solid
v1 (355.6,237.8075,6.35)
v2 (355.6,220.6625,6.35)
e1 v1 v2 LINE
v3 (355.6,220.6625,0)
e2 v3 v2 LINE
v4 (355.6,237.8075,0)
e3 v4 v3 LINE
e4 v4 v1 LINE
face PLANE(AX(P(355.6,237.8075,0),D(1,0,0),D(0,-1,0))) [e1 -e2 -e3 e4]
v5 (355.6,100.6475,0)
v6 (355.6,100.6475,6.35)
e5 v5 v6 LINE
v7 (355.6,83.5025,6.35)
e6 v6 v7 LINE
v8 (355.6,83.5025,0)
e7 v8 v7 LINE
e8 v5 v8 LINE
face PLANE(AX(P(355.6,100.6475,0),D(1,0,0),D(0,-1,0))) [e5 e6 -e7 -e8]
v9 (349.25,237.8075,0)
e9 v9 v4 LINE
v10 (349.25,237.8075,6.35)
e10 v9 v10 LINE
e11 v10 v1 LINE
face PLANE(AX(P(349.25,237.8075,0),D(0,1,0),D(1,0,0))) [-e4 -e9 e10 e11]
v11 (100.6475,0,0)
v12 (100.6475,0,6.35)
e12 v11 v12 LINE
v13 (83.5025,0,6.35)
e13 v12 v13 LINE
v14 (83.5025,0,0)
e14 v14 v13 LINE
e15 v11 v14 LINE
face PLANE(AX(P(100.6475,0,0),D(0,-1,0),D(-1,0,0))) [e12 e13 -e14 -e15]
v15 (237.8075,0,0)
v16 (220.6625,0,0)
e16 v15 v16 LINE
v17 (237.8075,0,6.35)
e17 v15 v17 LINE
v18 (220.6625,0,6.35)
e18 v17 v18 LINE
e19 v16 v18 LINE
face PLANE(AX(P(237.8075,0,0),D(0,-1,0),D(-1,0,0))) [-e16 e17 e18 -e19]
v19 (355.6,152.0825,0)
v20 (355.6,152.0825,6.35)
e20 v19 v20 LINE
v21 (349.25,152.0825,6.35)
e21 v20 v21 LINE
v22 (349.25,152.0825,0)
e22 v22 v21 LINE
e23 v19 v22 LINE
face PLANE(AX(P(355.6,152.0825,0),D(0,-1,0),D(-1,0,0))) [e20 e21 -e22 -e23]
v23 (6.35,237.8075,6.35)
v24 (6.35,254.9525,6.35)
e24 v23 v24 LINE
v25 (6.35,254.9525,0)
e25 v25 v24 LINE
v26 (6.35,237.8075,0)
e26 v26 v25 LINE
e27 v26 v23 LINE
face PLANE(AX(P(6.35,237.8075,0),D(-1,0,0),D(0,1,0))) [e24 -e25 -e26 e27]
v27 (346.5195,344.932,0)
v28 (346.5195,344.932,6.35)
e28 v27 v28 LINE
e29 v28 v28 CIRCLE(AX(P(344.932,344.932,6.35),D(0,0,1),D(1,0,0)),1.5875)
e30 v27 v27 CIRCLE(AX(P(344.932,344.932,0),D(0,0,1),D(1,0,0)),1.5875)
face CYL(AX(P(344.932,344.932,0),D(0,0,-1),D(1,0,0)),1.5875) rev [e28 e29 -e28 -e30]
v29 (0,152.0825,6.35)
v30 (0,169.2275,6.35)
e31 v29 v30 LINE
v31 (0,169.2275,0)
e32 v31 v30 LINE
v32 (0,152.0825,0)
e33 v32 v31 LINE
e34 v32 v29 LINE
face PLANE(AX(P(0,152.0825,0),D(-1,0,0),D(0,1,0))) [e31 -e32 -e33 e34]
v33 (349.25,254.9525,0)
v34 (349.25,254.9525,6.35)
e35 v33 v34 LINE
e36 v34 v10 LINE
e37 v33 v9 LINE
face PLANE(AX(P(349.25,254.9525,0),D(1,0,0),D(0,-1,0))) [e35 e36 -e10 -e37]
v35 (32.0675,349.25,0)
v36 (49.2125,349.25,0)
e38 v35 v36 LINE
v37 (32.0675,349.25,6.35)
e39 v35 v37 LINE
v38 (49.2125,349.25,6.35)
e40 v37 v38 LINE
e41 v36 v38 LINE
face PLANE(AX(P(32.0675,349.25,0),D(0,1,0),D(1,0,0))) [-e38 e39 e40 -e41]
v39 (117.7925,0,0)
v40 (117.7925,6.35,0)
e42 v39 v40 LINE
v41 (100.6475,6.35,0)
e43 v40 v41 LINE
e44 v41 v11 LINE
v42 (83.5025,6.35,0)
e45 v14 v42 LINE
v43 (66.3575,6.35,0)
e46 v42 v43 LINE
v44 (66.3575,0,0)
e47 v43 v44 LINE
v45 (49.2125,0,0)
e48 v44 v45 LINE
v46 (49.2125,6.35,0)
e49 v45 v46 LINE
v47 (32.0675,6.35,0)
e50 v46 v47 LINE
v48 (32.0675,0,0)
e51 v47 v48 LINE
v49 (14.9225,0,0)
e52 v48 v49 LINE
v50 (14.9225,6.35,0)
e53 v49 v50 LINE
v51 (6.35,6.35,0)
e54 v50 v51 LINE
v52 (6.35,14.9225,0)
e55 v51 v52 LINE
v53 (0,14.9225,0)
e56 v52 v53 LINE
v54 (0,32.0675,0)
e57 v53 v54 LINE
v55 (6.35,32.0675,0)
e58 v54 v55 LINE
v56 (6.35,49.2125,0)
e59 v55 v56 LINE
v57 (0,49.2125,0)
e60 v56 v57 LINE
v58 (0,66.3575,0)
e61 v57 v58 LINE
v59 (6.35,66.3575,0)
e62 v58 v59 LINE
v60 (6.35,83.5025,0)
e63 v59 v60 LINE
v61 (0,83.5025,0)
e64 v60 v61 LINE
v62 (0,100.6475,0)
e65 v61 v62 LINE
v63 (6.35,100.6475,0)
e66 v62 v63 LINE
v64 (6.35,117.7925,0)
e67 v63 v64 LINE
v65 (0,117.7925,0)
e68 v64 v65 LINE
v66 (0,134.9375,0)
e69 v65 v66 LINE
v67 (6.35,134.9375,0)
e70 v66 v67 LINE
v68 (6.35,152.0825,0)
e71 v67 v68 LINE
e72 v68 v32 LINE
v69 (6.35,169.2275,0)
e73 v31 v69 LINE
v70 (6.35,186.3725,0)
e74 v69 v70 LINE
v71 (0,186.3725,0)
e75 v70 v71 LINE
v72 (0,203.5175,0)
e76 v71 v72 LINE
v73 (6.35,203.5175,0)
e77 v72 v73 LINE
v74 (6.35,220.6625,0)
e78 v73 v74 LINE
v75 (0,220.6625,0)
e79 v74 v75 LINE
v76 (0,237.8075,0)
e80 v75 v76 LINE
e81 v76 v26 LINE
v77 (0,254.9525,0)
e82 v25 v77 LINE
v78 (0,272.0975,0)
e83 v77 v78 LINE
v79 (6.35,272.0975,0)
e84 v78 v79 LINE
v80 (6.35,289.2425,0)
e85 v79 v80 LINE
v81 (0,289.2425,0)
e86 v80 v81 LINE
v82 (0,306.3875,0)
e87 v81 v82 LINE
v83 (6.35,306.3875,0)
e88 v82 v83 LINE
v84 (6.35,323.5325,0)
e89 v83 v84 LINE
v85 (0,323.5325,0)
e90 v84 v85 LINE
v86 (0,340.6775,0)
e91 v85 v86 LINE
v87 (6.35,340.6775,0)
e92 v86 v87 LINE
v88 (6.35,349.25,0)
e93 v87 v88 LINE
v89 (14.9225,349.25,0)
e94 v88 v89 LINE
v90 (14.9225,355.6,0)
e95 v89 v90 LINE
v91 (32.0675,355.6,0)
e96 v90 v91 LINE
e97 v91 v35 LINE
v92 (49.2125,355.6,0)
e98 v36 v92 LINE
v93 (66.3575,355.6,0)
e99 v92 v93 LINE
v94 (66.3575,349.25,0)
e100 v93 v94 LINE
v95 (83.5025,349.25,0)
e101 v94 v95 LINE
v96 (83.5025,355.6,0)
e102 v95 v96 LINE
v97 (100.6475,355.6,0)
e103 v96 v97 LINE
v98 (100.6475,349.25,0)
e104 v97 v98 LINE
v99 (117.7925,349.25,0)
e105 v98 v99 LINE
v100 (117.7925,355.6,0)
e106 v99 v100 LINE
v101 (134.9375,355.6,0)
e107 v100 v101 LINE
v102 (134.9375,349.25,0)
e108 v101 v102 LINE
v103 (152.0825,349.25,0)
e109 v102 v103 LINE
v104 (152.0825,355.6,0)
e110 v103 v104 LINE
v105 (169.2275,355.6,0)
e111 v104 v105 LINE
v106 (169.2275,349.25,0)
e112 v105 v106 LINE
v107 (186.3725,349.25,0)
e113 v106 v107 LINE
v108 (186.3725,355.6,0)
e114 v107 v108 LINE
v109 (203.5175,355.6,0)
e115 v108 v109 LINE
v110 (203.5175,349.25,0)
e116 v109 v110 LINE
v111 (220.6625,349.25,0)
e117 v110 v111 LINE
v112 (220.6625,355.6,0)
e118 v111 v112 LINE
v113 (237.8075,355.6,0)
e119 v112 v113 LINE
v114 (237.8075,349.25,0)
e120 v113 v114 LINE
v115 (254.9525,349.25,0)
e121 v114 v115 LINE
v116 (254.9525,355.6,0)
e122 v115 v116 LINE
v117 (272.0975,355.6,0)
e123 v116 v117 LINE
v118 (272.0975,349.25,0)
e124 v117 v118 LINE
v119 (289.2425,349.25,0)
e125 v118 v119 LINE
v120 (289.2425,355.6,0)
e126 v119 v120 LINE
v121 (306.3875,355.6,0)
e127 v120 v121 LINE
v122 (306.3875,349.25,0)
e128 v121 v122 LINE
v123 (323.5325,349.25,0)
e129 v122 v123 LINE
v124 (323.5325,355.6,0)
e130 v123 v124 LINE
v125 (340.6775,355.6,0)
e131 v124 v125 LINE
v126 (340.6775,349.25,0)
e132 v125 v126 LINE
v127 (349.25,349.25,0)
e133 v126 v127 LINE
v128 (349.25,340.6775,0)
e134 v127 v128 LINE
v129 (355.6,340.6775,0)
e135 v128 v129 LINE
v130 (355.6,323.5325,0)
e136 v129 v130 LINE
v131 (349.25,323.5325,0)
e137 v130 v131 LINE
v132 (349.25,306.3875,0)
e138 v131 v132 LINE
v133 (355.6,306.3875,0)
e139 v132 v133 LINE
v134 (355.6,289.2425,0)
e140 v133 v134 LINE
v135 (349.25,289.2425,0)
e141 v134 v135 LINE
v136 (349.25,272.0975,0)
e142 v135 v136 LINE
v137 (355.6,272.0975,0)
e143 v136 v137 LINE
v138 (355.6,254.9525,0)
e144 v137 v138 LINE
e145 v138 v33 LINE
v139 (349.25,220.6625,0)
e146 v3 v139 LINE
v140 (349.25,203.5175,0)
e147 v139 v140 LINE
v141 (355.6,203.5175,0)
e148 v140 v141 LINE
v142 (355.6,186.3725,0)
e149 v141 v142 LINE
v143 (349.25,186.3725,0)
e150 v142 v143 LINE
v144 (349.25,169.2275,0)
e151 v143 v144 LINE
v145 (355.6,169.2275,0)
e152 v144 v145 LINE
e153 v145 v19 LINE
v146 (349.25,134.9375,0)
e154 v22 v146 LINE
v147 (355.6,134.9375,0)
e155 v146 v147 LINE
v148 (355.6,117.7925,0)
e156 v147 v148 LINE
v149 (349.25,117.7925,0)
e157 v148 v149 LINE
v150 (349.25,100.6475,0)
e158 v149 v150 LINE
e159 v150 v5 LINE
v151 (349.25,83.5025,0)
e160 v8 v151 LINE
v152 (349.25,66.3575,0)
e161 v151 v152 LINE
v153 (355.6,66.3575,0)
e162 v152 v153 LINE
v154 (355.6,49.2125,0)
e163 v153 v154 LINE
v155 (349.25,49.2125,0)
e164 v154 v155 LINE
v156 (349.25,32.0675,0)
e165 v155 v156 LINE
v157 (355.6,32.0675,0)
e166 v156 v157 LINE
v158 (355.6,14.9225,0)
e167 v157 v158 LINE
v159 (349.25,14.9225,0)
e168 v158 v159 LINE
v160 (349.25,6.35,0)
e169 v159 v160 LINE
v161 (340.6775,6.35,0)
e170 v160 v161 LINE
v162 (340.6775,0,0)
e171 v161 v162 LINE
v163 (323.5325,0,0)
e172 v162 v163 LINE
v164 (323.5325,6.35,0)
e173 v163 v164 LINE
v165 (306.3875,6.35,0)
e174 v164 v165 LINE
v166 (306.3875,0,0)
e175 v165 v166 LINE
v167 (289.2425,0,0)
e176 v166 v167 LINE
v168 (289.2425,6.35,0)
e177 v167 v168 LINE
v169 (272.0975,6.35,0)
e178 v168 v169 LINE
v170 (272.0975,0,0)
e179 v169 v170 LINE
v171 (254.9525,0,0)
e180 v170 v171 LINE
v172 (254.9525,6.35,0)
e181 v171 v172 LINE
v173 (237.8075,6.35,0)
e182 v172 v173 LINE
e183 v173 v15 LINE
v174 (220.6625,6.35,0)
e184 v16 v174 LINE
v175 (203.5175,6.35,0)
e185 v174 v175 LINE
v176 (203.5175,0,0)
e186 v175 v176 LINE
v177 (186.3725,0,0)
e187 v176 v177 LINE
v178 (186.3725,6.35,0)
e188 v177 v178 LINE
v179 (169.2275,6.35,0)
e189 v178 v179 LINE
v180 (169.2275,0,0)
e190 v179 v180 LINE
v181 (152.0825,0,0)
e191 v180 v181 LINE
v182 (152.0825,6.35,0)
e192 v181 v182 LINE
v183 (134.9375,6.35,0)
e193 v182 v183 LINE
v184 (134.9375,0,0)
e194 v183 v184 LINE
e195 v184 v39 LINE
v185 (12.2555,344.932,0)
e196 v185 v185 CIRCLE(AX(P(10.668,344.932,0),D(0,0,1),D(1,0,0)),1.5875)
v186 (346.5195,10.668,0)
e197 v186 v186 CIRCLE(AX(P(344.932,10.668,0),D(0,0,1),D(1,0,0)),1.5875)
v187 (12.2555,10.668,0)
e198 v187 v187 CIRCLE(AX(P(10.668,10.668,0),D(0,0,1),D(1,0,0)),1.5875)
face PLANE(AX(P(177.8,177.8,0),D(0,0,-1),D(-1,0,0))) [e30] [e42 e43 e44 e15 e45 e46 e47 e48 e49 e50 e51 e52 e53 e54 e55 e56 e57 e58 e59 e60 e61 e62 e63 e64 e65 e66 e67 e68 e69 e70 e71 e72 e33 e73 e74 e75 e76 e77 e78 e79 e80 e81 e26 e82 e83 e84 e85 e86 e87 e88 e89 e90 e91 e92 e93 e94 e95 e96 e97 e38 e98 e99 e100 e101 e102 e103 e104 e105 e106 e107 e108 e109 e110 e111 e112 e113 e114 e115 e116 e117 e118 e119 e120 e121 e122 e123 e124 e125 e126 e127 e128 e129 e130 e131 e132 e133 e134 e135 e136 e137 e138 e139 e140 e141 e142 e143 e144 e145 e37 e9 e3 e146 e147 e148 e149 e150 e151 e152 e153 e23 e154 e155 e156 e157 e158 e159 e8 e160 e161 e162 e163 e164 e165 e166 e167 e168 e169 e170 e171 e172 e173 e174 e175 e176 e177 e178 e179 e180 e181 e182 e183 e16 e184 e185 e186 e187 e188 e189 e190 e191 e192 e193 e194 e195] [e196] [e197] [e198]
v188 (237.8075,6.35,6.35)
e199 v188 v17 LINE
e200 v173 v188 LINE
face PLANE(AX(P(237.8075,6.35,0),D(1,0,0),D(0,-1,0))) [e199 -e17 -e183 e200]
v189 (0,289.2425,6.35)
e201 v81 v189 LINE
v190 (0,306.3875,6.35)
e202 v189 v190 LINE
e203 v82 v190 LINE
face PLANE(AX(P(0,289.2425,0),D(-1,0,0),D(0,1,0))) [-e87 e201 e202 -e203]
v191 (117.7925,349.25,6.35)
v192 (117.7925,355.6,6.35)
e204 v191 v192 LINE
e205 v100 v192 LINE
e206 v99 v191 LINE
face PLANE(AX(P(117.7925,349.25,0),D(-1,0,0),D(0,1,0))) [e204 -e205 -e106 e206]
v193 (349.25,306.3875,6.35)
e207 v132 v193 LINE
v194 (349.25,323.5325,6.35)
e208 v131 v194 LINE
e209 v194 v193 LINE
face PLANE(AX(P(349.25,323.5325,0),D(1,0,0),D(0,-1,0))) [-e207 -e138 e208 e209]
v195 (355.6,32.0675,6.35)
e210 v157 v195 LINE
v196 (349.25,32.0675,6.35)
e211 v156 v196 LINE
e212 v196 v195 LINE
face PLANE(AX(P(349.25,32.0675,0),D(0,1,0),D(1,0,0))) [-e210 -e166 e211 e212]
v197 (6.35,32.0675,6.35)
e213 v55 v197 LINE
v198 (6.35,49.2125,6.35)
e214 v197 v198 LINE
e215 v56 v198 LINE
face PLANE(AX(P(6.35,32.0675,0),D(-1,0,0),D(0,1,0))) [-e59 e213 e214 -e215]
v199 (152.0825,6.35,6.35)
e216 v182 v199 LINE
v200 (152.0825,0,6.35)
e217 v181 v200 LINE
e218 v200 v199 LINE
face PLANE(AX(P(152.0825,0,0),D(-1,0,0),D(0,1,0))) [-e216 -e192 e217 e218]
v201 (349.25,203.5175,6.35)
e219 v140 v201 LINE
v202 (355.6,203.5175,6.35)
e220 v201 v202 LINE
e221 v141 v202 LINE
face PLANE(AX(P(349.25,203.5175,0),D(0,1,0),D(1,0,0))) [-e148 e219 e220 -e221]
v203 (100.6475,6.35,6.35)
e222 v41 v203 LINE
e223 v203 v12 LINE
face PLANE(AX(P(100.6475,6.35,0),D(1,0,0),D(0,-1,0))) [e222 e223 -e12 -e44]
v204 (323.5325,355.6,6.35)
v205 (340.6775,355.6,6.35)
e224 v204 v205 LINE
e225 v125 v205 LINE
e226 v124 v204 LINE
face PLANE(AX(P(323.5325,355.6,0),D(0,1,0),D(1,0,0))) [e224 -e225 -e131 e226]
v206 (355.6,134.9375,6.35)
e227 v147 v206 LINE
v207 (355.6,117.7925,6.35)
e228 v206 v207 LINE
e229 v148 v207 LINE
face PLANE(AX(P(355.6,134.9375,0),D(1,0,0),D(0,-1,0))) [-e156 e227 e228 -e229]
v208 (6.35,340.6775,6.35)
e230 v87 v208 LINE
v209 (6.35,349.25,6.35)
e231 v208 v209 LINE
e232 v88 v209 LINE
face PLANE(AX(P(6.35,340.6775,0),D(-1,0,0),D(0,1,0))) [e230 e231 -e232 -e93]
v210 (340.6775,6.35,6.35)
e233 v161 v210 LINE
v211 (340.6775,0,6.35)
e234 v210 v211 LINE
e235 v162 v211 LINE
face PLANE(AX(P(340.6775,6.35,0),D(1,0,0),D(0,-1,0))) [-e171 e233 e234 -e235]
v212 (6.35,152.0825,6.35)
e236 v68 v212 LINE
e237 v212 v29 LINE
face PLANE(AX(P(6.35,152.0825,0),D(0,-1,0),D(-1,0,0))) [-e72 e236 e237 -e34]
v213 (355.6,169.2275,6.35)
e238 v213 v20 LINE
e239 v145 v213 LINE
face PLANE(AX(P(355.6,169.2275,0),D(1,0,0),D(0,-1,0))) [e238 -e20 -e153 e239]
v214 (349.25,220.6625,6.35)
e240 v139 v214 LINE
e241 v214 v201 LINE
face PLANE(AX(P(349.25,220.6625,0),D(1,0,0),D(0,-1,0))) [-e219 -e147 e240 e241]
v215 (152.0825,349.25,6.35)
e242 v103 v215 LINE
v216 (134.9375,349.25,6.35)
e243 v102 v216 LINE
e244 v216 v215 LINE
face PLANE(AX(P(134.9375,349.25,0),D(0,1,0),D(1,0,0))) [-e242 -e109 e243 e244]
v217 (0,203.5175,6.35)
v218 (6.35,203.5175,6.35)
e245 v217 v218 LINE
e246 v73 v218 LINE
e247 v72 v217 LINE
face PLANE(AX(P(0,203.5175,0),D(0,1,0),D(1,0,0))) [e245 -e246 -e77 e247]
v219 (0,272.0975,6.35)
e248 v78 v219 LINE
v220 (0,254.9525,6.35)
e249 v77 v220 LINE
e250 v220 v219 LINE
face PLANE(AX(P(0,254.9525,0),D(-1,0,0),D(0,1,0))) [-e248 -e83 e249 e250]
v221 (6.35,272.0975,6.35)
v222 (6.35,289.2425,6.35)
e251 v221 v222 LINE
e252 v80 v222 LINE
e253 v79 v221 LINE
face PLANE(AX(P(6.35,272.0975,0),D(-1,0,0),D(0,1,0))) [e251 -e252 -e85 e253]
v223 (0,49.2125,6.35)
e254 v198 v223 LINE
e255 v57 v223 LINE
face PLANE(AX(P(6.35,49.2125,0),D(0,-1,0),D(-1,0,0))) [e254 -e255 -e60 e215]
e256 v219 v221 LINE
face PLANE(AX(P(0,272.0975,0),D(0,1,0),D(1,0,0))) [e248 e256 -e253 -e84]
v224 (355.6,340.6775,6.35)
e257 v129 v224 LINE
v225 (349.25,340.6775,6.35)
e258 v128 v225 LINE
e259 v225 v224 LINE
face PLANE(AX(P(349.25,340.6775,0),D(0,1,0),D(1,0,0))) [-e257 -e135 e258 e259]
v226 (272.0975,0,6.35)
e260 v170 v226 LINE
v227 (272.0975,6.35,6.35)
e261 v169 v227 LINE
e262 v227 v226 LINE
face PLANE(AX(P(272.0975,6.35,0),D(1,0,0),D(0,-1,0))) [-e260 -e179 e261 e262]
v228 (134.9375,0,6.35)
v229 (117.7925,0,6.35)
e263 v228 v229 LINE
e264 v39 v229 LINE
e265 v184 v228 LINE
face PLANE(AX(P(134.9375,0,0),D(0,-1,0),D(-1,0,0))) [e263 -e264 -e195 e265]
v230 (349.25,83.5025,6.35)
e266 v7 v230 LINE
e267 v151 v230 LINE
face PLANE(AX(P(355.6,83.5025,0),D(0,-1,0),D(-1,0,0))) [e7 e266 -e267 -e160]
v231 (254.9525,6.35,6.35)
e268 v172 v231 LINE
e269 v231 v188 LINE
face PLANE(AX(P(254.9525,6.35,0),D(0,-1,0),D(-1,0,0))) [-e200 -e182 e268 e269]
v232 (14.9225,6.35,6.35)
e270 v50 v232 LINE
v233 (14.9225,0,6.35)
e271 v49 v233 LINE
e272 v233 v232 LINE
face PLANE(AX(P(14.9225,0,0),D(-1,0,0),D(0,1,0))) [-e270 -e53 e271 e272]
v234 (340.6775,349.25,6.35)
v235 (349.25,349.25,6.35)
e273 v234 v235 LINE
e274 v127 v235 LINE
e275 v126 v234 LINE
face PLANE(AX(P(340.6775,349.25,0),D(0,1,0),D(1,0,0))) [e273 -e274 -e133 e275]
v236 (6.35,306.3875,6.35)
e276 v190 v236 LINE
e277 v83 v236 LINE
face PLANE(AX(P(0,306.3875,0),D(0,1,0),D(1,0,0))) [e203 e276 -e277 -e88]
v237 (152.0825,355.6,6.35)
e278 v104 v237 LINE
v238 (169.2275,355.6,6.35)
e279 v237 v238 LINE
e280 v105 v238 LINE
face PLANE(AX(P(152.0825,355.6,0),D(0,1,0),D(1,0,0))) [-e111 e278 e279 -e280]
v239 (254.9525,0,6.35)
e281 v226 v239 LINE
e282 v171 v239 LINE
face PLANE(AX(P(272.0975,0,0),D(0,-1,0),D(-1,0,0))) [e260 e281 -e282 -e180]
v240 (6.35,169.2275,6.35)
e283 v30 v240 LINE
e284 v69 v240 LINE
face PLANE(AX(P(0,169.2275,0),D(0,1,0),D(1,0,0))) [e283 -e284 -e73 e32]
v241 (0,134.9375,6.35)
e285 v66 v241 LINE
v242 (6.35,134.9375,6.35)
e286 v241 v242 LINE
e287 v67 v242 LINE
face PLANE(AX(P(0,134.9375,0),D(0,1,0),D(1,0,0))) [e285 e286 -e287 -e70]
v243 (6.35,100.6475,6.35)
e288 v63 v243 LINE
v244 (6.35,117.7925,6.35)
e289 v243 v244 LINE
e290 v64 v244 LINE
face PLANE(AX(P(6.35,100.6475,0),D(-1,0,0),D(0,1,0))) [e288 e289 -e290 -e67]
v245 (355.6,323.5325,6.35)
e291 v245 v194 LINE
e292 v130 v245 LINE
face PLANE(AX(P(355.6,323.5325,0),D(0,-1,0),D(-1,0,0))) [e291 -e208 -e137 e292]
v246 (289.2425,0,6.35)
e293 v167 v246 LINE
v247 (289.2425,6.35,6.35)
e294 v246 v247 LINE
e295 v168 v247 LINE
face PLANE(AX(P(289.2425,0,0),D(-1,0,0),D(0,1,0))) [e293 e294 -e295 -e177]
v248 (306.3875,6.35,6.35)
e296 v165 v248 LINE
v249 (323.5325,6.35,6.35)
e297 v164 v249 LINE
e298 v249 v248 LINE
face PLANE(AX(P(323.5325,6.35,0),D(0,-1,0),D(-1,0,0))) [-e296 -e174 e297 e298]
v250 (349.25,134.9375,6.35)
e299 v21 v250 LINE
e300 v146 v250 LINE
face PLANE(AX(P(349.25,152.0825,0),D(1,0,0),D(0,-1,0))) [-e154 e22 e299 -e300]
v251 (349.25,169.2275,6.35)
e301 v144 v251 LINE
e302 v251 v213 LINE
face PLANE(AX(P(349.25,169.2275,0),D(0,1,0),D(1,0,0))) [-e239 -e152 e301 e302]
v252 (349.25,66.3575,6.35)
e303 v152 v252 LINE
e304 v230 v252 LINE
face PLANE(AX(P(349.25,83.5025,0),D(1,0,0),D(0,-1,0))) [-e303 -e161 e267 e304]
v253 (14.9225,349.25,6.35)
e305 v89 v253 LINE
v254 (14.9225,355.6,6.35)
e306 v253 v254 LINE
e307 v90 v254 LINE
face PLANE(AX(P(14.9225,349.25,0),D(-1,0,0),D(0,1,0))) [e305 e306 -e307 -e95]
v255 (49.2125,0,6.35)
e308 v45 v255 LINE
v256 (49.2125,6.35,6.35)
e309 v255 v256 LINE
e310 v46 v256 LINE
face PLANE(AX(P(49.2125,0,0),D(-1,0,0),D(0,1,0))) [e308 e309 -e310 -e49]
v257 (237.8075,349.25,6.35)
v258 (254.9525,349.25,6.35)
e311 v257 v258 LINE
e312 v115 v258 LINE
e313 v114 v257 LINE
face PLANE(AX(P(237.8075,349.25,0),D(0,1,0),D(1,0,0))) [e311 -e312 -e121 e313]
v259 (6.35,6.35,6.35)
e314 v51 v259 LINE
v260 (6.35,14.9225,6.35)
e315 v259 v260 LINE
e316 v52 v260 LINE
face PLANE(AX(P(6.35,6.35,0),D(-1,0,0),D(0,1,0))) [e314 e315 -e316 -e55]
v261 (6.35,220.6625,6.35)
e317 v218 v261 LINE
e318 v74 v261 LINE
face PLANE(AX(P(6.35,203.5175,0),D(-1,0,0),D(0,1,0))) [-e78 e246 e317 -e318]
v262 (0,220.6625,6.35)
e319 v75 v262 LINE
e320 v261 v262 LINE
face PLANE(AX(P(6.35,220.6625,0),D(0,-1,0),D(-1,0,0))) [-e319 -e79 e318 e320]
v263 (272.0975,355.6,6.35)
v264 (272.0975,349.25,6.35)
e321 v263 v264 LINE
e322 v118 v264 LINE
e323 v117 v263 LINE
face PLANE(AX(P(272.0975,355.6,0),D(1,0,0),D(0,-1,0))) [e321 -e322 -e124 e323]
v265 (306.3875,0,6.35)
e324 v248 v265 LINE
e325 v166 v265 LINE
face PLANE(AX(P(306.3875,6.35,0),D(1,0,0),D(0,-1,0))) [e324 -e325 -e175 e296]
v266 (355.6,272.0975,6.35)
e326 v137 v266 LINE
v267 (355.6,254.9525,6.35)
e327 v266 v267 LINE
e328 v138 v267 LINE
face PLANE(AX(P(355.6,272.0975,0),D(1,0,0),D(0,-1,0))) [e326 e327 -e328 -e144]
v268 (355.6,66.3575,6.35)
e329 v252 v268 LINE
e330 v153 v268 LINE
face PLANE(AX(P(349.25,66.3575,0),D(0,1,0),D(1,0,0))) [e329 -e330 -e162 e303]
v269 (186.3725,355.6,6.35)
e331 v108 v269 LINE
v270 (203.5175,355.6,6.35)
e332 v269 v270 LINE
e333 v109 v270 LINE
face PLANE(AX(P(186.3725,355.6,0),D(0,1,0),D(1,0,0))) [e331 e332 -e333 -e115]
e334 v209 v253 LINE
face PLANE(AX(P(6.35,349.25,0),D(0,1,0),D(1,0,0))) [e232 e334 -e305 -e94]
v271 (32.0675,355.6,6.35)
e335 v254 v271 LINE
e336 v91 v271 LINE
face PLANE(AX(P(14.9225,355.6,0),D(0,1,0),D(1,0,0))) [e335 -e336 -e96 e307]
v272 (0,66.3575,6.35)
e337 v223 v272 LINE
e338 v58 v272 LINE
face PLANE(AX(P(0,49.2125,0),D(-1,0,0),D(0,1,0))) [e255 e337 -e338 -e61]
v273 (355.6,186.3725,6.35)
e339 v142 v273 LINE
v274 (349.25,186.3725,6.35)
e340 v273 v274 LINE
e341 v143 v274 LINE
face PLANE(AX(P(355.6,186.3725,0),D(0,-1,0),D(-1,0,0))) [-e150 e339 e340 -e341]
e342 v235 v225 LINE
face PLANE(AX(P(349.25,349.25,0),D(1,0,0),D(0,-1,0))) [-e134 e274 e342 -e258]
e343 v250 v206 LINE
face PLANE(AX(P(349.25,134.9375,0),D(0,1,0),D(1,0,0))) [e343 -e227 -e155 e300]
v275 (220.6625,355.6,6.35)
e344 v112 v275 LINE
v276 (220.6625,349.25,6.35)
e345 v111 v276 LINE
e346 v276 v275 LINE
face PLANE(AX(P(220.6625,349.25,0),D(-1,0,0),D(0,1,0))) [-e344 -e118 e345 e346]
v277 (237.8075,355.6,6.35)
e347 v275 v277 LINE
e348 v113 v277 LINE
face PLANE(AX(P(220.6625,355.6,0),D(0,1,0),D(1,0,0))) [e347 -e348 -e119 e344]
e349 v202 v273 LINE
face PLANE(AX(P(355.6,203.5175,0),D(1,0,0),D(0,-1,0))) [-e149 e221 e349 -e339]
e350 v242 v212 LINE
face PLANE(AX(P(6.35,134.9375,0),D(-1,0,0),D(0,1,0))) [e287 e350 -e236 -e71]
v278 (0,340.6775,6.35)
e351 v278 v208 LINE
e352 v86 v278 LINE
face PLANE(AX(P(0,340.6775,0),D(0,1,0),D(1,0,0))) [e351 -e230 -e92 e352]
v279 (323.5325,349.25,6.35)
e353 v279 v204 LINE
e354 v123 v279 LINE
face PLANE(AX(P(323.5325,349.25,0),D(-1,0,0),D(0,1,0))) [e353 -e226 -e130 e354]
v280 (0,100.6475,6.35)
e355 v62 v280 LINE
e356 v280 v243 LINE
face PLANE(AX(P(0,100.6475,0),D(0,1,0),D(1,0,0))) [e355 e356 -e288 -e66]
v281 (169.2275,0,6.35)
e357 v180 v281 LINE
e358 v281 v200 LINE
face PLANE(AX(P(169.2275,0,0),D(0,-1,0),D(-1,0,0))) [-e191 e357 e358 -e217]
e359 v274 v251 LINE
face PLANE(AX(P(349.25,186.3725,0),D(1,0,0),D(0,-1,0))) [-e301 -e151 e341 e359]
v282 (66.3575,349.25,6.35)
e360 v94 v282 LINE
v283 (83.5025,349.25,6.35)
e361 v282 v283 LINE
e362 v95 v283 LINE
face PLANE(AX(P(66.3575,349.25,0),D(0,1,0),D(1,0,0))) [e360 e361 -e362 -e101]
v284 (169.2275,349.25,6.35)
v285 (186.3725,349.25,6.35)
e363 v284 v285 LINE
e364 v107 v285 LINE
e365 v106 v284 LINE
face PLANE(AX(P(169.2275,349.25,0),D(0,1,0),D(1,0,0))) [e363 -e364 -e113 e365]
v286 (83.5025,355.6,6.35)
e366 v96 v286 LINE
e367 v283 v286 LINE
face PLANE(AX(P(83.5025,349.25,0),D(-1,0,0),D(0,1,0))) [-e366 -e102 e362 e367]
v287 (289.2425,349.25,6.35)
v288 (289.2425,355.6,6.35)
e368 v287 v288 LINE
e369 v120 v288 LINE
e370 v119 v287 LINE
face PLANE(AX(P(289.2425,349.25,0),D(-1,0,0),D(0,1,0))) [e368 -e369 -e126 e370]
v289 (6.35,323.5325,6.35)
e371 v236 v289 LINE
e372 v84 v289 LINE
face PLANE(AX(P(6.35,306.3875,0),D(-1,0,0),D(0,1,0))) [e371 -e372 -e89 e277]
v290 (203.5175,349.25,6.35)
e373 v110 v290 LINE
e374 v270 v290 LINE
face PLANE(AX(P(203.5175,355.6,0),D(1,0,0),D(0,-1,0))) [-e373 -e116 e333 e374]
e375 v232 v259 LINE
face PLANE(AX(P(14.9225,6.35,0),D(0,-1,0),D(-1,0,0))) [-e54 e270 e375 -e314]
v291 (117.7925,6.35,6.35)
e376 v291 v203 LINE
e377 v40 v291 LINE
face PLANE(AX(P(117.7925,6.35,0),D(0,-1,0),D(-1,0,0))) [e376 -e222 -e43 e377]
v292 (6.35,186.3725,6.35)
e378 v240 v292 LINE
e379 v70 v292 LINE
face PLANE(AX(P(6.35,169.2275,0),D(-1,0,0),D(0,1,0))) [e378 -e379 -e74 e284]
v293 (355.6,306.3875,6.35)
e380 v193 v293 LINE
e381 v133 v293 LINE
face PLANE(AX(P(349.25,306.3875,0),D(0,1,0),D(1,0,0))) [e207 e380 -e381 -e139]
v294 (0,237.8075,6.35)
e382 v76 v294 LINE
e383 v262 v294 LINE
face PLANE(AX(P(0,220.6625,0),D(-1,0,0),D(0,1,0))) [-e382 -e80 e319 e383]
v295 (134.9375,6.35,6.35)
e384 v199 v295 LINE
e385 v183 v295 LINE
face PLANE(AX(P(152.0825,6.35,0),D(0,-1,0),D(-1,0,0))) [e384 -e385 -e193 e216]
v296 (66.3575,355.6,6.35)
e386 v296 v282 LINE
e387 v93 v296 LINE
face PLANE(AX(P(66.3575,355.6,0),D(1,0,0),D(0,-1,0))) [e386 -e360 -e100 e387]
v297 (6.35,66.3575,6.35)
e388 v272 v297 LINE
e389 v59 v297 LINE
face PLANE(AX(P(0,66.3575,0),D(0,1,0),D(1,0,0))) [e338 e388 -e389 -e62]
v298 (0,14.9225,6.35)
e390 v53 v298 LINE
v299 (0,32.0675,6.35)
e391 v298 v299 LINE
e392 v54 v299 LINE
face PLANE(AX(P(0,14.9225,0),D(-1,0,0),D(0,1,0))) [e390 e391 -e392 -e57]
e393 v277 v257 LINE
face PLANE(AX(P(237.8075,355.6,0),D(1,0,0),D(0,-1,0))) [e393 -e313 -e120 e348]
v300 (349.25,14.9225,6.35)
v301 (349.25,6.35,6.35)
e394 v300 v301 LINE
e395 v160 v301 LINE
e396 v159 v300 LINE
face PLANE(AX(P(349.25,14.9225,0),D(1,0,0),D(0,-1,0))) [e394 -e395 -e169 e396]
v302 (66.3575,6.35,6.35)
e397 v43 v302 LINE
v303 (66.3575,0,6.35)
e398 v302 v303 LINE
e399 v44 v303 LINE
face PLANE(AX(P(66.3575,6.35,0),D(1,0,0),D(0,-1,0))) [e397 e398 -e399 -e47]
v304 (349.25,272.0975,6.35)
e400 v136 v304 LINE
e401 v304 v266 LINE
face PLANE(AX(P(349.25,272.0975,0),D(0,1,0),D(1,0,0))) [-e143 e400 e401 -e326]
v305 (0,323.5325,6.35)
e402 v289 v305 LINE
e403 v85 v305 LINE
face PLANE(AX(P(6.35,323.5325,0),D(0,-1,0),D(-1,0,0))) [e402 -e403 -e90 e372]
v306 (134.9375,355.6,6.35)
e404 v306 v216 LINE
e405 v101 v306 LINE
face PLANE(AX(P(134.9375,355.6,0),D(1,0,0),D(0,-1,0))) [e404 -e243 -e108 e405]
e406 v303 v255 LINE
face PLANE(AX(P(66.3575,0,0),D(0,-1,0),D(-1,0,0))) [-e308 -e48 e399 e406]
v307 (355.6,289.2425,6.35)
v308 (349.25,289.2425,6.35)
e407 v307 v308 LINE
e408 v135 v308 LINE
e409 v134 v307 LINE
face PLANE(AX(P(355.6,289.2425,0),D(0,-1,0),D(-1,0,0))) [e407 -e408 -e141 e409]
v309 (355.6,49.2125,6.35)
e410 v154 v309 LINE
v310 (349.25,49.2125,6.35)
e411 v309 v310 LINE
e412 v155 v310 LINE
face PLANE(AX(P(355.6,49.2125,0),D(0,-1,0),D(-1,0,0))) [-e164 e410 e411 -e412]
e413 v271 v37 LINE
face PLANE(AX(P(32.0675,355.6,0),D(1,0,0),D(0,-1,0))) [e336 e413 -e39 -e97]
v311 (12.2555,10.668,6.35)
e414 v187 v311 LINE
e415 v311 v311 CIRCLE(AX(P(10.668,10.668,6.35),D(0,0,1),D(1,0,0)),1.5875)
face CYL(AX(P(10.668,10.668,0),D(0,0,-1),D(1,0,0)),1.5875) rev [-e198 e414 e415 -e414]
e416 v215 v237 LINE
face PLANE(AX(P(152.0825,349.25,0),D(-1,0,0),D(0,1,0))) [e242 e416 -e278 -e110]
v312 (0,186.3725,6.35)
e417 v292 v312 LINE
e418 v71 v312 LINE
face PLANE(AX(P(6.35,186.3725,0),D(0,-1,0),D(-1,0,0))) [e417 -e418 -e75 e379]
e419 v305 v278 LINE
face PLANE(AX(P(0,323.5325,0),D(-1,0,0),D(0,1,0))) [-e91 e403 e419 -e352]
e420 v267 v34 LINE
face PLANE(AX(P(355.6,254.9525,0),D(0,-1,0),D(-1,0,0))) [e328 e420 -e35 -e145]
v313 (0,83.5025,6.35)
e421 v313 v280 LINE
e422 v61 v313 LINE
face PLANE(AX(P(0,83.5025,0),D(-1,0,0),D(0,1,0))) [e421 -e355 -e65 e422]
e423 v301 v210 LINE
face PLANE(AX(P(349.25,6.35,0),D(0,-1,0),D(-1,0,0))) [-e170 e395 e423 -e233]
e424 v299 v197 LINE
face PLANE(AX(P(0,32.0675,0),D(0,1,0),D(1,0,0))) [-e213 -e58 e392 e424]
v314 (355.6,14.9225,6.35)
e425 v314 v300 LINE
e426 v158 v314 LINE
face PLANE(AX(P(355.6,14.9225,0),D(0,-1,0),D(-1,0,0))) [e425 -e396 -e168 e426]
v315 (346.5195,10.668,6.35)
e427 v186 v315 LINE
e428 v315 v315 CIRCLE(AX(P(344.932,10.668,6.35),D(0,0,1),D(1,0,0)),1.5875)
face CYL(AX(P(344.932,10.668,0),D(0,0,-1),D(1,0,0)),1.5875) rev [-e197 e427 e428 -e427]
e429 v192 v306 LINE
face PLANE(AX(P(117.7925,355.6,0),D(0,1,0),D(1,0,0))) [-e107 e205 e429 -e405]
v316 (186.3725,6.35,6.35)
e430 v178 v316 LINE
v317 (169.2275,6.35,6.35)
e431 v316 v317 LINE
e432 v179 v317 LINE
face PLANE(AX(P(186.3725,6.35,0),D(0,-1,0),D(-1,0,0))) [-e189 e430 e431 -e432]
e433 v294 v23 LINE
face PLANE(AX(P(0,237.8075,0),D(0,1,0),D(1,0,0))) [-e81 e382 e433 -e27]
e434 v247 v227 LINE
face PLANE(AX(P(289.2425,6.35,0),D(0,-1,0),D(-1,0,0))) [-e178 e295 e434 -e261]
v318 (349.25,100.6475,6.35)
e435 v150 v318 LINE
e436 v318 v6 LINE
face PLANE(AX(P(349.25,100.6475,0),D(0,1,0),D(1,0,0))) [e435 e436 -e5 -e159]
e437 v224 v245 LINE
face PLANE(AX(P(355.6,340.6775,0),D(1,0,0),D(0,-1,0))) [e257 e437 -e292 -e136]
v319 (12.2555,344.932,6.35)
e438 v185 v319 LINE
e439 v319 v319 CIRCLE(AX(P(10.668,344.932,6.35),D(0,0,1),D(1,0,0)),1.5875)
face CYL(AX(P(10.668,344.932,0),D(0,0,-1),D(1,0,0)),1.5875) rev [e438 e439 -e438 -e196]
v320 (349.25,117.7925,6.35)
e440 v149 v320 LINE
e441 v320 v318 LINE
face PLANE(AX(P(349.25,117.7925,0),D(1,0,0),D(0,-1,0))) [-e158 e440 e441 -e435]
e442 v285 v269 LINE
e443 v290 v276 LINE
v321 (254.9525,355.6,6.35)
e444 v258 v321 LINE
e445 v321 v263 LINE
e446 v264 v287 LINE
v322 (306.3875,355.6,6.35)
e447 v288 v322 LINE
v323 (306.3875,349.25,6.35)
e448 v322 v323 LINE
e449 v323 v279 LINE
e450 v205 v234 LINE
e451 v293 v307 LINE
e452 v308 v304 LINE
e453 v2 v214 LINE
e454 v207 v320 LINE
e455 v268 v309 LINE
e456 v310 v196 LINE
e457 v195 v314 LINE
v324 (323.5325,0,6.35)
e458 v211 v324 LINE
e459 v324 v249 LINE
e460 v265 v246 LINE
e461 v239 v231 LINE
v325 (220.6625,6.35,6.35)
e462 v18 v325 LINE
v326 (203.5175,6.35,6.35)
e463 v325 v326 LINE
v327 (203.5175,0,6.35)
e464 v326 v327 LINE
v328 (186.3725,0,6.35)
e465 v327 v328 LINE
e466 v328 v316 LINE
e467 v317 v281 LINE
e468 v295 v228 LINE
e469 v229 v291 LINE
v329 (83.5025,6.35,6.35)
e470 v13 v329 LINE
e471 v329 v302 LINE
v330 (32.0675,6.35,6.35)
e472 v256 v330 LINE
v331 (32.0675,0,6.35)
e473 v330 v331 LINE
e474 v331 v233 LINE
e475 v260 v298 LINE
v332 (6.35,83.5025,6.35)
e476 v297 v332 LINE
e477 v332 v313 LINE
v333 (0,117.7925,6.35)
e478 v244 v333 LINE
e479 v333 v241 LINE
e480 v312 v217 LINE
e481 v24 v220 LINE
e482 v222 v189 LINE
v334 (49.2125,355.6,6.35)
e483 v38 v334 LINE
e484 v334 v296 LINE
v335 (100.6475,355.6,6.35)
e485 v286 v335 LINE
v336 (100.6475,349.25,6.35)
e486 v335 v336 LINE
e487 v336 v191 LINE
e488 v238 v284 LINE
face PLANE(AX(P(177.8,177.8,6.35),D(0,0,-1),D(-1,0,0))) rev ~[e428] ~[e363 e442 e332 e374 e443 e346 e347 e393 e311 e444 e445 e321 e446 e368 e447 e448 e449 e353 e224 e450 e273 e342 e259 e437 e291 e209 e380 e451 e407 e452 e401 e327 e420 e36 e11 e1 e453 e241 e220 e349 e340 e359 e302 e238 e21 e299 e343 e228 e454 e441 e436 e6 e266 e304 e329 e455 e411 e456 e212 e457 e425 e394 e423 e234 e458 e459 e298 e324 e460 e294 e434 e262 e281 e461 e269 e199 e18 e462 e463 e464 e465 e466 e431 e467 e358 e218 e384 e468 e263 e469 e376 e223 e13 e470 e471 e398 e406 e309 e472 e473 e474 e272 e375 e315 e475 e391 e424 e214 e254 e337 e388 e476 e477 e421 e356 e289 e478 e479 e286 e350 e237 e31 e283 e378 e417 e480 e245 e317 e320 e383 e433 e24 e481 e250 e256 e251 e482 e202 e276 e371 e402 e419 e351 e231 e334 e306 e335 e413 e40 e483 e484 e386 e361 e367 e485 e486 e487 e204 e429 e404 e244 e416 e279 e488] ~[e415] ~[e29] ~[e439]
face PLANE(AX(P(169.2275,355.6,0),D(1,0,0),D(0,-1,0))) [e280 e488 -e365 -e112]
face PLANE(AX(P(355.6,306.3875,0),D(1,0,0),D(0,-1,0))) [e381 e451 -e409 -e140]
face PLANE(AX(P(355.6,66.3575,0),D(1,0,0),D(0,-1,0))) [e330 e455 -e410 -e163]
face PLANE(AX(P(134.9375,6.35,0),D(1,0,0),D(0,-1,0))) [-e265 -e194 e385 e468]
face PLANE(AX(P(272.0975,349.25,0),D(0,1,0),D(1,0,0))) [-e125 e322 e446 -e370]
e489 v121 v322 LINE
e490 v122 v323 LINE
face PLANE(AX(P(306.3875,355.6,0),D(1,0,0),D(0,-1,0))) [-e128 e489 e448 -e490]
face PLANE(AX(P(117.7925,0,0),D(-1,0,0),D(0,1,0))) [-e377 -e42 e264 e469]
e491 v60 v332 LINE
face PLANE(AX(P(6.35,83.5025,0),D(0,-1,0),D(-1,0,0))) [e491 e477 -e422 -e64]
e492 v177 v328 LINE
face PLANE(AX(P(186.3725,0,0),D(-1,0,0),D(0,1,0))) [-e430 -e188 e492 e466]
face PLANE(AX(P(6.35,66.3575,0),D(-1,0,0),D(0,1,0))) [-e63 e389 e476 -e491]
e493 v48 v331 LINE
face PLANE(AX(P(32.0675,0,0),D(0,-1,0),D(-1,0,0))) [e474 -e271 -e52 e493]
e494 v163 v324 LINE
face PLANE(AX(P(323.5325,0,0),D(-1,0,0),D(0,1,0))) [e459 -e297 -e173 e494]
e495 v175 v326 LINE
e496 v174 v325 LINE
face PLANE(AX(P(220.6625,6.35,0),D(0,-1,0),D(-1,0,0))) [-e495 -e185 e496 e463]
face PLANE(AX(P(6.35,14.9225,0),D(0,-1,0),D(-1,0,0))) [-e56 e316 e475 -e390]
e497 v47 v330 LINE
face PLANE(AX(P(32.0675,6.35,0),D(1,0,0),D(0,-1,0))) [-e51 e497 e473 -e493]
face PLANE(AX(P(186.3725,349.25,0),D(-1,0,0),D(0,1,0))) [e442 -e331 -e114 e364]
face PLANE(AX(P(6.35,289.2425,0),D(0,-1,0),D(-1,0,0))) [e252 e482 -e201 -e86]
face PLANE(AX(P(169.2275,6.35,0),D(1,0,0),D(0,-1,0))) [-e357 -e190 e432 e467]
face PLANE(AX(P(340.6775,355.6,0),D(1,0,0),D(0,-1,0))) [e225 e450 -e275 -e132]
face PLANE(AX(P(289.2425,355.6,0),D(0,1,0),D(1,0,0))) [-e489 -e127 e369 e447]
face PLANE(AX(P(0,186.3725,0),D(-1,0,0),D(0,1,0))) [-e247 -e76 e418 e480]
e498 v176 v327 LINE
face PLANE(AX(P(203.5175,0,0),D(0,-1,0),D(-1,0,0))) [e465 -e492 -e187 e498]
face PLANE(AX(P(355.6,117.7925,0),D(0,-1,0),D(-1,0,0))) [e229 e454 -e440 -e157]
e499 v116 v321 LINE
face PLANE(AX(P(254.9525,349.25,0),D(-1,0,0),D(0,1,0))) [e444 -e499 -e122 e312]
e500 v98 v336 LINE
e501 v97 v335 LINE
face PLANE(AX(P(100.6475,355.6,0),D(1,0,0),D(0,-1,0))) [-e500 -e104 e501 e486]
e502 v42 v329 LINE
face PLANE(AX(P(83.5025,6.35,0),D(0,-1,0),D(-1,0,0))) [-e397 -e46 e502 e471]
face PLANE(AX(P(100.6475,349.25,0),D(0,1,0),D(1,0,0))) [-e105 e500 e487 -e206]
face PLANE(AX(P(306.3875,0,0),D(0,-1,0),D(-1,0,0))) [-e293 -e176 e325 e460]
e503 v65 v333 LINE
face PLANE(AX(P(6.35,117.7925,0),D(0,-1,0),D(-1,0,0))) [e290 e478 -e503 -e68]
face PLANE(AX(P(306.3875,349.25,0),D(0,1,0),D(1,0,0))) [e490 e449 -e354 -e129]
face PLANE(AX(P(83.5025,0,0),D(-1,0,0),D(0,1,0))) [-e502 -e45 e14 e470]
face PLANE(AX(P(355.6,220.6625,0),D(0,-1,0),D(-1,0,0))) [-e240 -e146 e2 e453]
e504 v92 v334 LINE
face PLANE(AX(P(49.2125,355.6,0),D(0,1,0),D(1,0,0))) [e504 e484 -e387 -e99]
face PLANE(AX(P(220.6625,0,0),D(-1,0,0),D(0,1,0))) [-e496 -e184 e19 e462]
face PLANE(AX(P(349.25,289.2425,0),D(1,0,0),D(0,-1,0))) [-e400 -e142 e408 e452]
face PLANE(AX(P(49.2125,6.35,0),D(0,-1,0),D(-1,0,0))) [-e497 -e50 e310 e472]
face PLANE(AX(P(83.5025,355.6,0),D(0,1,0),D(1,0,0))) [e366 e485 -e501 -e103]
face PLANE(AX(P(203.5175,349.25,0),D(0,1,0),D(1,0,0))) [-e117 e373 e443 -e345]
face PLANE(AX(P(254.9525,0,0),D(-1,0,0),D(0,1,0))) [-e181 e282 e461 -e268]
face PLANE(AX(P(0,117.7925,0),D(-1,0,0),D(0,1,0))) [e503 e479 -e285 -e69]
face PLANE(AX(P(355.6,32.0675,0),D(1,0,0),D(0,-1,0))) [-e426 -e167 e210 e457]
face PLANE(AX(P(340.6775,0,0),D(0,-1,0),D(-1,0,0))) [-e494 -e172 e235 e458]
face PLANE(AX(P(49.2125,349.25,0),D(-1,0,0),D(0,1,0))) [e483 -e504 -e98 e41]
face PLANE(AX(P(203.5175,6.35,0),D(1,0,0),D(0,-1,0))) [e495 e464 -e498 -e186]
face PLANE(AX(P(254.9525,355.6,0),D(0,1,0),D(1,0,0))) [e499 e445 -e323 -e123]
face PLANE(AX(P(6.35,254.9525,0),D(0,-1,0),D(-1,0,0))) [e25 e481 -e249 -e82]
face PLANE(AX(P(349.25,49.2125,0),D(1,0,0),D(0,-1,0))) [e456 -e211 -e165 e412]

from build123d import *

# Parameters (mm, degrees)
SKETCH1_R           = 1.5875
BOSS_EXTRUDE1_DEPTH = 6.35


with BuildPart() as part:
    # Sketch1 → Boss-Extrude1 (new body)
    with BuildSketch(Plane.XY):
        Polygon((6.35, 349.25), (14.9225, 349.25), (14.9225, 355.6), (32.0675, 355.6), (32.0675, 349.25), (49.2125, 349.25), (49.2125, 355.6), (66.3575, 355.6), (66.3575, 349.25), (83.5025, 349.25), (83.5025, 355.6), (100.6475, 355.6), (100.6475, 349.25), (117.7925, 349.25), (117.7925, 355.6), (134.9375, 355.6), (134.9375, 349.25), (152.0825, 349.25), (152.0825, 355.6), (169.2275, 355.6), (169.2275, 349.25), (186.3725, 349.25), (186.3725, 355.6), (203.5175, 355.6), (203.5175, 349.25), (220.6625, 349.25), (220.6625, 355.6), (237.8075, 355.6), (237.8075, 349.25), (254.9525, 349.25), (254.9525, 355.6), (272.0975, 355.6), (272.0975, 349.25), (289.2425, 349.25), (289.2425, 355.6), (306.3875, 355.6), (306.3875, 349.25), (323.5325, 349.25), (323.5325, 355.6), (340.6775, 355.6), (340.6775, 349.25), (349.25, 349.25), (349.25, 340.6775), (355.6, 340.6775), (355.6, 323.5325), (349.25, 323.5325), (349.25, 306.3875), (355.6, 306.3875), (355.6, 289.2425), (349.25, 289.2425), (349.25, 272.0975), (355.6, 272.0975), (355.6, 254.9525), (349.25, 254.9525), (349.25, 237.8075), (355.6, 237.8075), (355.6, 220.6625), (349.25, 220.6625), (349.25, 203.5175), (355.6, 203.5175), (355.6, 186.3725), (349.25, 186.3725), (349.25, 169.2275), (355.6, 169.2275), (355.6, 152.0825), (349.25, 152.0825), (349.25, 134.9375), (355.6, 134.9375), (355.6, 117.7925), (349.25, 117.7925), (349.25, 100.6475), (355.6, 100.6475), (355.6, 83.5025), (349.25, 83.5025), (349.25, 66.3575), (355.6, 66.3575), (355.6, 49.2125), (349.25, 49.2125), (349.25, 32.0675), (355.6, 32.0675), (355.6, 14.9225), (349.25, 14.9225), (349.25, 6.35), (340.6775, 6.35), (340.6775, 0), (323.5325, 0), (323.5325, 6.35), (306.3875, 6.35), (306.3875, 0), (289.2425, 0), (289.2425, 6.35), (272.0975, 6.35), (272.0975, 0), (254.9525, 0), (254.9525, 6.35), (237.8075, 6.35), (237.8075, 0), (220.6625, 0), (220.6625, 6.35), (203.5175, 6.35), (203.5175, 0), (186.3725, 0), (186.3725, 6.35), (169.2275, 6.35), (169.2275, 0), (152.0825, 0), (152.0825, 6.35), (134.9375, 6.35), (134.9375, 0), (117.7925, 0), (117.7925, 6.35), (100.6475, 6.35), (100.6475, 0), (83.5025, 0), (83.5025, 6.35), (66.3575, 6.35), (66.3575, 0), (49.2125, 0), (49.2125, 6.35), (32.0675, 6.35), (32.0675, 0), (14.9225, 0), (14.9225, 6.35), (6.35, 6.35), (6.35, 14.9225), (0, 14.9225), (0, 32.0675), (6.35, 32.0675), (6.35, 49.2125), (0, 49.2125), (0, 66.3575), (6.35, 66.3575), (6.35, 83.5025), (0, 83.5025), (0, 100.6475), (6.35, 100.6475), (6.35, 117.7925), (0, 117.7925), (0, 134.9375), (6.35, 134.9375), (6.35, 152.0825), (0, 152.0825), (0, 169.2275), (6.35, 169.2275), (6.35, 186.3725), (0, 186.3725), (0, 203.5175), (6.35, 203.5175), (6.35, 220.6625), (0, 220.6625), (0, 237.8075), (6.35, 237.8075), (6.35, 254.9525), (0, 254.9525), (0, 272.0975), (6.35, 272.0975), (6.35, 289.2425), (0, 289.2425), (0, 306.3875), (6.35, 306.3875), (6.35, 323.5325), (0, 323.5325), (0, 340.6775), (6.35, 340.6775), align=None)
        with Locations((10.668, 344.932)):
            Circle(SKETCH1_R, mode=Mode.SUBTRACT)
        with Locations((344.932, 344.932)):
            Circle(SKETCH1_R, mode=Mode.SUBTRACT)
        with Locations((344.932, 10.668)):
            Circle(SKETCH1_R, mode=Mode.SUBTRACT)
        with Locations((10.668, 10.668)):
            Circle(SKETCH1_R, mode=Mode.SUBTRACT)
    extrude(amount=BOSS_EXTRUDE1_DEPTH)


solid = part.part
